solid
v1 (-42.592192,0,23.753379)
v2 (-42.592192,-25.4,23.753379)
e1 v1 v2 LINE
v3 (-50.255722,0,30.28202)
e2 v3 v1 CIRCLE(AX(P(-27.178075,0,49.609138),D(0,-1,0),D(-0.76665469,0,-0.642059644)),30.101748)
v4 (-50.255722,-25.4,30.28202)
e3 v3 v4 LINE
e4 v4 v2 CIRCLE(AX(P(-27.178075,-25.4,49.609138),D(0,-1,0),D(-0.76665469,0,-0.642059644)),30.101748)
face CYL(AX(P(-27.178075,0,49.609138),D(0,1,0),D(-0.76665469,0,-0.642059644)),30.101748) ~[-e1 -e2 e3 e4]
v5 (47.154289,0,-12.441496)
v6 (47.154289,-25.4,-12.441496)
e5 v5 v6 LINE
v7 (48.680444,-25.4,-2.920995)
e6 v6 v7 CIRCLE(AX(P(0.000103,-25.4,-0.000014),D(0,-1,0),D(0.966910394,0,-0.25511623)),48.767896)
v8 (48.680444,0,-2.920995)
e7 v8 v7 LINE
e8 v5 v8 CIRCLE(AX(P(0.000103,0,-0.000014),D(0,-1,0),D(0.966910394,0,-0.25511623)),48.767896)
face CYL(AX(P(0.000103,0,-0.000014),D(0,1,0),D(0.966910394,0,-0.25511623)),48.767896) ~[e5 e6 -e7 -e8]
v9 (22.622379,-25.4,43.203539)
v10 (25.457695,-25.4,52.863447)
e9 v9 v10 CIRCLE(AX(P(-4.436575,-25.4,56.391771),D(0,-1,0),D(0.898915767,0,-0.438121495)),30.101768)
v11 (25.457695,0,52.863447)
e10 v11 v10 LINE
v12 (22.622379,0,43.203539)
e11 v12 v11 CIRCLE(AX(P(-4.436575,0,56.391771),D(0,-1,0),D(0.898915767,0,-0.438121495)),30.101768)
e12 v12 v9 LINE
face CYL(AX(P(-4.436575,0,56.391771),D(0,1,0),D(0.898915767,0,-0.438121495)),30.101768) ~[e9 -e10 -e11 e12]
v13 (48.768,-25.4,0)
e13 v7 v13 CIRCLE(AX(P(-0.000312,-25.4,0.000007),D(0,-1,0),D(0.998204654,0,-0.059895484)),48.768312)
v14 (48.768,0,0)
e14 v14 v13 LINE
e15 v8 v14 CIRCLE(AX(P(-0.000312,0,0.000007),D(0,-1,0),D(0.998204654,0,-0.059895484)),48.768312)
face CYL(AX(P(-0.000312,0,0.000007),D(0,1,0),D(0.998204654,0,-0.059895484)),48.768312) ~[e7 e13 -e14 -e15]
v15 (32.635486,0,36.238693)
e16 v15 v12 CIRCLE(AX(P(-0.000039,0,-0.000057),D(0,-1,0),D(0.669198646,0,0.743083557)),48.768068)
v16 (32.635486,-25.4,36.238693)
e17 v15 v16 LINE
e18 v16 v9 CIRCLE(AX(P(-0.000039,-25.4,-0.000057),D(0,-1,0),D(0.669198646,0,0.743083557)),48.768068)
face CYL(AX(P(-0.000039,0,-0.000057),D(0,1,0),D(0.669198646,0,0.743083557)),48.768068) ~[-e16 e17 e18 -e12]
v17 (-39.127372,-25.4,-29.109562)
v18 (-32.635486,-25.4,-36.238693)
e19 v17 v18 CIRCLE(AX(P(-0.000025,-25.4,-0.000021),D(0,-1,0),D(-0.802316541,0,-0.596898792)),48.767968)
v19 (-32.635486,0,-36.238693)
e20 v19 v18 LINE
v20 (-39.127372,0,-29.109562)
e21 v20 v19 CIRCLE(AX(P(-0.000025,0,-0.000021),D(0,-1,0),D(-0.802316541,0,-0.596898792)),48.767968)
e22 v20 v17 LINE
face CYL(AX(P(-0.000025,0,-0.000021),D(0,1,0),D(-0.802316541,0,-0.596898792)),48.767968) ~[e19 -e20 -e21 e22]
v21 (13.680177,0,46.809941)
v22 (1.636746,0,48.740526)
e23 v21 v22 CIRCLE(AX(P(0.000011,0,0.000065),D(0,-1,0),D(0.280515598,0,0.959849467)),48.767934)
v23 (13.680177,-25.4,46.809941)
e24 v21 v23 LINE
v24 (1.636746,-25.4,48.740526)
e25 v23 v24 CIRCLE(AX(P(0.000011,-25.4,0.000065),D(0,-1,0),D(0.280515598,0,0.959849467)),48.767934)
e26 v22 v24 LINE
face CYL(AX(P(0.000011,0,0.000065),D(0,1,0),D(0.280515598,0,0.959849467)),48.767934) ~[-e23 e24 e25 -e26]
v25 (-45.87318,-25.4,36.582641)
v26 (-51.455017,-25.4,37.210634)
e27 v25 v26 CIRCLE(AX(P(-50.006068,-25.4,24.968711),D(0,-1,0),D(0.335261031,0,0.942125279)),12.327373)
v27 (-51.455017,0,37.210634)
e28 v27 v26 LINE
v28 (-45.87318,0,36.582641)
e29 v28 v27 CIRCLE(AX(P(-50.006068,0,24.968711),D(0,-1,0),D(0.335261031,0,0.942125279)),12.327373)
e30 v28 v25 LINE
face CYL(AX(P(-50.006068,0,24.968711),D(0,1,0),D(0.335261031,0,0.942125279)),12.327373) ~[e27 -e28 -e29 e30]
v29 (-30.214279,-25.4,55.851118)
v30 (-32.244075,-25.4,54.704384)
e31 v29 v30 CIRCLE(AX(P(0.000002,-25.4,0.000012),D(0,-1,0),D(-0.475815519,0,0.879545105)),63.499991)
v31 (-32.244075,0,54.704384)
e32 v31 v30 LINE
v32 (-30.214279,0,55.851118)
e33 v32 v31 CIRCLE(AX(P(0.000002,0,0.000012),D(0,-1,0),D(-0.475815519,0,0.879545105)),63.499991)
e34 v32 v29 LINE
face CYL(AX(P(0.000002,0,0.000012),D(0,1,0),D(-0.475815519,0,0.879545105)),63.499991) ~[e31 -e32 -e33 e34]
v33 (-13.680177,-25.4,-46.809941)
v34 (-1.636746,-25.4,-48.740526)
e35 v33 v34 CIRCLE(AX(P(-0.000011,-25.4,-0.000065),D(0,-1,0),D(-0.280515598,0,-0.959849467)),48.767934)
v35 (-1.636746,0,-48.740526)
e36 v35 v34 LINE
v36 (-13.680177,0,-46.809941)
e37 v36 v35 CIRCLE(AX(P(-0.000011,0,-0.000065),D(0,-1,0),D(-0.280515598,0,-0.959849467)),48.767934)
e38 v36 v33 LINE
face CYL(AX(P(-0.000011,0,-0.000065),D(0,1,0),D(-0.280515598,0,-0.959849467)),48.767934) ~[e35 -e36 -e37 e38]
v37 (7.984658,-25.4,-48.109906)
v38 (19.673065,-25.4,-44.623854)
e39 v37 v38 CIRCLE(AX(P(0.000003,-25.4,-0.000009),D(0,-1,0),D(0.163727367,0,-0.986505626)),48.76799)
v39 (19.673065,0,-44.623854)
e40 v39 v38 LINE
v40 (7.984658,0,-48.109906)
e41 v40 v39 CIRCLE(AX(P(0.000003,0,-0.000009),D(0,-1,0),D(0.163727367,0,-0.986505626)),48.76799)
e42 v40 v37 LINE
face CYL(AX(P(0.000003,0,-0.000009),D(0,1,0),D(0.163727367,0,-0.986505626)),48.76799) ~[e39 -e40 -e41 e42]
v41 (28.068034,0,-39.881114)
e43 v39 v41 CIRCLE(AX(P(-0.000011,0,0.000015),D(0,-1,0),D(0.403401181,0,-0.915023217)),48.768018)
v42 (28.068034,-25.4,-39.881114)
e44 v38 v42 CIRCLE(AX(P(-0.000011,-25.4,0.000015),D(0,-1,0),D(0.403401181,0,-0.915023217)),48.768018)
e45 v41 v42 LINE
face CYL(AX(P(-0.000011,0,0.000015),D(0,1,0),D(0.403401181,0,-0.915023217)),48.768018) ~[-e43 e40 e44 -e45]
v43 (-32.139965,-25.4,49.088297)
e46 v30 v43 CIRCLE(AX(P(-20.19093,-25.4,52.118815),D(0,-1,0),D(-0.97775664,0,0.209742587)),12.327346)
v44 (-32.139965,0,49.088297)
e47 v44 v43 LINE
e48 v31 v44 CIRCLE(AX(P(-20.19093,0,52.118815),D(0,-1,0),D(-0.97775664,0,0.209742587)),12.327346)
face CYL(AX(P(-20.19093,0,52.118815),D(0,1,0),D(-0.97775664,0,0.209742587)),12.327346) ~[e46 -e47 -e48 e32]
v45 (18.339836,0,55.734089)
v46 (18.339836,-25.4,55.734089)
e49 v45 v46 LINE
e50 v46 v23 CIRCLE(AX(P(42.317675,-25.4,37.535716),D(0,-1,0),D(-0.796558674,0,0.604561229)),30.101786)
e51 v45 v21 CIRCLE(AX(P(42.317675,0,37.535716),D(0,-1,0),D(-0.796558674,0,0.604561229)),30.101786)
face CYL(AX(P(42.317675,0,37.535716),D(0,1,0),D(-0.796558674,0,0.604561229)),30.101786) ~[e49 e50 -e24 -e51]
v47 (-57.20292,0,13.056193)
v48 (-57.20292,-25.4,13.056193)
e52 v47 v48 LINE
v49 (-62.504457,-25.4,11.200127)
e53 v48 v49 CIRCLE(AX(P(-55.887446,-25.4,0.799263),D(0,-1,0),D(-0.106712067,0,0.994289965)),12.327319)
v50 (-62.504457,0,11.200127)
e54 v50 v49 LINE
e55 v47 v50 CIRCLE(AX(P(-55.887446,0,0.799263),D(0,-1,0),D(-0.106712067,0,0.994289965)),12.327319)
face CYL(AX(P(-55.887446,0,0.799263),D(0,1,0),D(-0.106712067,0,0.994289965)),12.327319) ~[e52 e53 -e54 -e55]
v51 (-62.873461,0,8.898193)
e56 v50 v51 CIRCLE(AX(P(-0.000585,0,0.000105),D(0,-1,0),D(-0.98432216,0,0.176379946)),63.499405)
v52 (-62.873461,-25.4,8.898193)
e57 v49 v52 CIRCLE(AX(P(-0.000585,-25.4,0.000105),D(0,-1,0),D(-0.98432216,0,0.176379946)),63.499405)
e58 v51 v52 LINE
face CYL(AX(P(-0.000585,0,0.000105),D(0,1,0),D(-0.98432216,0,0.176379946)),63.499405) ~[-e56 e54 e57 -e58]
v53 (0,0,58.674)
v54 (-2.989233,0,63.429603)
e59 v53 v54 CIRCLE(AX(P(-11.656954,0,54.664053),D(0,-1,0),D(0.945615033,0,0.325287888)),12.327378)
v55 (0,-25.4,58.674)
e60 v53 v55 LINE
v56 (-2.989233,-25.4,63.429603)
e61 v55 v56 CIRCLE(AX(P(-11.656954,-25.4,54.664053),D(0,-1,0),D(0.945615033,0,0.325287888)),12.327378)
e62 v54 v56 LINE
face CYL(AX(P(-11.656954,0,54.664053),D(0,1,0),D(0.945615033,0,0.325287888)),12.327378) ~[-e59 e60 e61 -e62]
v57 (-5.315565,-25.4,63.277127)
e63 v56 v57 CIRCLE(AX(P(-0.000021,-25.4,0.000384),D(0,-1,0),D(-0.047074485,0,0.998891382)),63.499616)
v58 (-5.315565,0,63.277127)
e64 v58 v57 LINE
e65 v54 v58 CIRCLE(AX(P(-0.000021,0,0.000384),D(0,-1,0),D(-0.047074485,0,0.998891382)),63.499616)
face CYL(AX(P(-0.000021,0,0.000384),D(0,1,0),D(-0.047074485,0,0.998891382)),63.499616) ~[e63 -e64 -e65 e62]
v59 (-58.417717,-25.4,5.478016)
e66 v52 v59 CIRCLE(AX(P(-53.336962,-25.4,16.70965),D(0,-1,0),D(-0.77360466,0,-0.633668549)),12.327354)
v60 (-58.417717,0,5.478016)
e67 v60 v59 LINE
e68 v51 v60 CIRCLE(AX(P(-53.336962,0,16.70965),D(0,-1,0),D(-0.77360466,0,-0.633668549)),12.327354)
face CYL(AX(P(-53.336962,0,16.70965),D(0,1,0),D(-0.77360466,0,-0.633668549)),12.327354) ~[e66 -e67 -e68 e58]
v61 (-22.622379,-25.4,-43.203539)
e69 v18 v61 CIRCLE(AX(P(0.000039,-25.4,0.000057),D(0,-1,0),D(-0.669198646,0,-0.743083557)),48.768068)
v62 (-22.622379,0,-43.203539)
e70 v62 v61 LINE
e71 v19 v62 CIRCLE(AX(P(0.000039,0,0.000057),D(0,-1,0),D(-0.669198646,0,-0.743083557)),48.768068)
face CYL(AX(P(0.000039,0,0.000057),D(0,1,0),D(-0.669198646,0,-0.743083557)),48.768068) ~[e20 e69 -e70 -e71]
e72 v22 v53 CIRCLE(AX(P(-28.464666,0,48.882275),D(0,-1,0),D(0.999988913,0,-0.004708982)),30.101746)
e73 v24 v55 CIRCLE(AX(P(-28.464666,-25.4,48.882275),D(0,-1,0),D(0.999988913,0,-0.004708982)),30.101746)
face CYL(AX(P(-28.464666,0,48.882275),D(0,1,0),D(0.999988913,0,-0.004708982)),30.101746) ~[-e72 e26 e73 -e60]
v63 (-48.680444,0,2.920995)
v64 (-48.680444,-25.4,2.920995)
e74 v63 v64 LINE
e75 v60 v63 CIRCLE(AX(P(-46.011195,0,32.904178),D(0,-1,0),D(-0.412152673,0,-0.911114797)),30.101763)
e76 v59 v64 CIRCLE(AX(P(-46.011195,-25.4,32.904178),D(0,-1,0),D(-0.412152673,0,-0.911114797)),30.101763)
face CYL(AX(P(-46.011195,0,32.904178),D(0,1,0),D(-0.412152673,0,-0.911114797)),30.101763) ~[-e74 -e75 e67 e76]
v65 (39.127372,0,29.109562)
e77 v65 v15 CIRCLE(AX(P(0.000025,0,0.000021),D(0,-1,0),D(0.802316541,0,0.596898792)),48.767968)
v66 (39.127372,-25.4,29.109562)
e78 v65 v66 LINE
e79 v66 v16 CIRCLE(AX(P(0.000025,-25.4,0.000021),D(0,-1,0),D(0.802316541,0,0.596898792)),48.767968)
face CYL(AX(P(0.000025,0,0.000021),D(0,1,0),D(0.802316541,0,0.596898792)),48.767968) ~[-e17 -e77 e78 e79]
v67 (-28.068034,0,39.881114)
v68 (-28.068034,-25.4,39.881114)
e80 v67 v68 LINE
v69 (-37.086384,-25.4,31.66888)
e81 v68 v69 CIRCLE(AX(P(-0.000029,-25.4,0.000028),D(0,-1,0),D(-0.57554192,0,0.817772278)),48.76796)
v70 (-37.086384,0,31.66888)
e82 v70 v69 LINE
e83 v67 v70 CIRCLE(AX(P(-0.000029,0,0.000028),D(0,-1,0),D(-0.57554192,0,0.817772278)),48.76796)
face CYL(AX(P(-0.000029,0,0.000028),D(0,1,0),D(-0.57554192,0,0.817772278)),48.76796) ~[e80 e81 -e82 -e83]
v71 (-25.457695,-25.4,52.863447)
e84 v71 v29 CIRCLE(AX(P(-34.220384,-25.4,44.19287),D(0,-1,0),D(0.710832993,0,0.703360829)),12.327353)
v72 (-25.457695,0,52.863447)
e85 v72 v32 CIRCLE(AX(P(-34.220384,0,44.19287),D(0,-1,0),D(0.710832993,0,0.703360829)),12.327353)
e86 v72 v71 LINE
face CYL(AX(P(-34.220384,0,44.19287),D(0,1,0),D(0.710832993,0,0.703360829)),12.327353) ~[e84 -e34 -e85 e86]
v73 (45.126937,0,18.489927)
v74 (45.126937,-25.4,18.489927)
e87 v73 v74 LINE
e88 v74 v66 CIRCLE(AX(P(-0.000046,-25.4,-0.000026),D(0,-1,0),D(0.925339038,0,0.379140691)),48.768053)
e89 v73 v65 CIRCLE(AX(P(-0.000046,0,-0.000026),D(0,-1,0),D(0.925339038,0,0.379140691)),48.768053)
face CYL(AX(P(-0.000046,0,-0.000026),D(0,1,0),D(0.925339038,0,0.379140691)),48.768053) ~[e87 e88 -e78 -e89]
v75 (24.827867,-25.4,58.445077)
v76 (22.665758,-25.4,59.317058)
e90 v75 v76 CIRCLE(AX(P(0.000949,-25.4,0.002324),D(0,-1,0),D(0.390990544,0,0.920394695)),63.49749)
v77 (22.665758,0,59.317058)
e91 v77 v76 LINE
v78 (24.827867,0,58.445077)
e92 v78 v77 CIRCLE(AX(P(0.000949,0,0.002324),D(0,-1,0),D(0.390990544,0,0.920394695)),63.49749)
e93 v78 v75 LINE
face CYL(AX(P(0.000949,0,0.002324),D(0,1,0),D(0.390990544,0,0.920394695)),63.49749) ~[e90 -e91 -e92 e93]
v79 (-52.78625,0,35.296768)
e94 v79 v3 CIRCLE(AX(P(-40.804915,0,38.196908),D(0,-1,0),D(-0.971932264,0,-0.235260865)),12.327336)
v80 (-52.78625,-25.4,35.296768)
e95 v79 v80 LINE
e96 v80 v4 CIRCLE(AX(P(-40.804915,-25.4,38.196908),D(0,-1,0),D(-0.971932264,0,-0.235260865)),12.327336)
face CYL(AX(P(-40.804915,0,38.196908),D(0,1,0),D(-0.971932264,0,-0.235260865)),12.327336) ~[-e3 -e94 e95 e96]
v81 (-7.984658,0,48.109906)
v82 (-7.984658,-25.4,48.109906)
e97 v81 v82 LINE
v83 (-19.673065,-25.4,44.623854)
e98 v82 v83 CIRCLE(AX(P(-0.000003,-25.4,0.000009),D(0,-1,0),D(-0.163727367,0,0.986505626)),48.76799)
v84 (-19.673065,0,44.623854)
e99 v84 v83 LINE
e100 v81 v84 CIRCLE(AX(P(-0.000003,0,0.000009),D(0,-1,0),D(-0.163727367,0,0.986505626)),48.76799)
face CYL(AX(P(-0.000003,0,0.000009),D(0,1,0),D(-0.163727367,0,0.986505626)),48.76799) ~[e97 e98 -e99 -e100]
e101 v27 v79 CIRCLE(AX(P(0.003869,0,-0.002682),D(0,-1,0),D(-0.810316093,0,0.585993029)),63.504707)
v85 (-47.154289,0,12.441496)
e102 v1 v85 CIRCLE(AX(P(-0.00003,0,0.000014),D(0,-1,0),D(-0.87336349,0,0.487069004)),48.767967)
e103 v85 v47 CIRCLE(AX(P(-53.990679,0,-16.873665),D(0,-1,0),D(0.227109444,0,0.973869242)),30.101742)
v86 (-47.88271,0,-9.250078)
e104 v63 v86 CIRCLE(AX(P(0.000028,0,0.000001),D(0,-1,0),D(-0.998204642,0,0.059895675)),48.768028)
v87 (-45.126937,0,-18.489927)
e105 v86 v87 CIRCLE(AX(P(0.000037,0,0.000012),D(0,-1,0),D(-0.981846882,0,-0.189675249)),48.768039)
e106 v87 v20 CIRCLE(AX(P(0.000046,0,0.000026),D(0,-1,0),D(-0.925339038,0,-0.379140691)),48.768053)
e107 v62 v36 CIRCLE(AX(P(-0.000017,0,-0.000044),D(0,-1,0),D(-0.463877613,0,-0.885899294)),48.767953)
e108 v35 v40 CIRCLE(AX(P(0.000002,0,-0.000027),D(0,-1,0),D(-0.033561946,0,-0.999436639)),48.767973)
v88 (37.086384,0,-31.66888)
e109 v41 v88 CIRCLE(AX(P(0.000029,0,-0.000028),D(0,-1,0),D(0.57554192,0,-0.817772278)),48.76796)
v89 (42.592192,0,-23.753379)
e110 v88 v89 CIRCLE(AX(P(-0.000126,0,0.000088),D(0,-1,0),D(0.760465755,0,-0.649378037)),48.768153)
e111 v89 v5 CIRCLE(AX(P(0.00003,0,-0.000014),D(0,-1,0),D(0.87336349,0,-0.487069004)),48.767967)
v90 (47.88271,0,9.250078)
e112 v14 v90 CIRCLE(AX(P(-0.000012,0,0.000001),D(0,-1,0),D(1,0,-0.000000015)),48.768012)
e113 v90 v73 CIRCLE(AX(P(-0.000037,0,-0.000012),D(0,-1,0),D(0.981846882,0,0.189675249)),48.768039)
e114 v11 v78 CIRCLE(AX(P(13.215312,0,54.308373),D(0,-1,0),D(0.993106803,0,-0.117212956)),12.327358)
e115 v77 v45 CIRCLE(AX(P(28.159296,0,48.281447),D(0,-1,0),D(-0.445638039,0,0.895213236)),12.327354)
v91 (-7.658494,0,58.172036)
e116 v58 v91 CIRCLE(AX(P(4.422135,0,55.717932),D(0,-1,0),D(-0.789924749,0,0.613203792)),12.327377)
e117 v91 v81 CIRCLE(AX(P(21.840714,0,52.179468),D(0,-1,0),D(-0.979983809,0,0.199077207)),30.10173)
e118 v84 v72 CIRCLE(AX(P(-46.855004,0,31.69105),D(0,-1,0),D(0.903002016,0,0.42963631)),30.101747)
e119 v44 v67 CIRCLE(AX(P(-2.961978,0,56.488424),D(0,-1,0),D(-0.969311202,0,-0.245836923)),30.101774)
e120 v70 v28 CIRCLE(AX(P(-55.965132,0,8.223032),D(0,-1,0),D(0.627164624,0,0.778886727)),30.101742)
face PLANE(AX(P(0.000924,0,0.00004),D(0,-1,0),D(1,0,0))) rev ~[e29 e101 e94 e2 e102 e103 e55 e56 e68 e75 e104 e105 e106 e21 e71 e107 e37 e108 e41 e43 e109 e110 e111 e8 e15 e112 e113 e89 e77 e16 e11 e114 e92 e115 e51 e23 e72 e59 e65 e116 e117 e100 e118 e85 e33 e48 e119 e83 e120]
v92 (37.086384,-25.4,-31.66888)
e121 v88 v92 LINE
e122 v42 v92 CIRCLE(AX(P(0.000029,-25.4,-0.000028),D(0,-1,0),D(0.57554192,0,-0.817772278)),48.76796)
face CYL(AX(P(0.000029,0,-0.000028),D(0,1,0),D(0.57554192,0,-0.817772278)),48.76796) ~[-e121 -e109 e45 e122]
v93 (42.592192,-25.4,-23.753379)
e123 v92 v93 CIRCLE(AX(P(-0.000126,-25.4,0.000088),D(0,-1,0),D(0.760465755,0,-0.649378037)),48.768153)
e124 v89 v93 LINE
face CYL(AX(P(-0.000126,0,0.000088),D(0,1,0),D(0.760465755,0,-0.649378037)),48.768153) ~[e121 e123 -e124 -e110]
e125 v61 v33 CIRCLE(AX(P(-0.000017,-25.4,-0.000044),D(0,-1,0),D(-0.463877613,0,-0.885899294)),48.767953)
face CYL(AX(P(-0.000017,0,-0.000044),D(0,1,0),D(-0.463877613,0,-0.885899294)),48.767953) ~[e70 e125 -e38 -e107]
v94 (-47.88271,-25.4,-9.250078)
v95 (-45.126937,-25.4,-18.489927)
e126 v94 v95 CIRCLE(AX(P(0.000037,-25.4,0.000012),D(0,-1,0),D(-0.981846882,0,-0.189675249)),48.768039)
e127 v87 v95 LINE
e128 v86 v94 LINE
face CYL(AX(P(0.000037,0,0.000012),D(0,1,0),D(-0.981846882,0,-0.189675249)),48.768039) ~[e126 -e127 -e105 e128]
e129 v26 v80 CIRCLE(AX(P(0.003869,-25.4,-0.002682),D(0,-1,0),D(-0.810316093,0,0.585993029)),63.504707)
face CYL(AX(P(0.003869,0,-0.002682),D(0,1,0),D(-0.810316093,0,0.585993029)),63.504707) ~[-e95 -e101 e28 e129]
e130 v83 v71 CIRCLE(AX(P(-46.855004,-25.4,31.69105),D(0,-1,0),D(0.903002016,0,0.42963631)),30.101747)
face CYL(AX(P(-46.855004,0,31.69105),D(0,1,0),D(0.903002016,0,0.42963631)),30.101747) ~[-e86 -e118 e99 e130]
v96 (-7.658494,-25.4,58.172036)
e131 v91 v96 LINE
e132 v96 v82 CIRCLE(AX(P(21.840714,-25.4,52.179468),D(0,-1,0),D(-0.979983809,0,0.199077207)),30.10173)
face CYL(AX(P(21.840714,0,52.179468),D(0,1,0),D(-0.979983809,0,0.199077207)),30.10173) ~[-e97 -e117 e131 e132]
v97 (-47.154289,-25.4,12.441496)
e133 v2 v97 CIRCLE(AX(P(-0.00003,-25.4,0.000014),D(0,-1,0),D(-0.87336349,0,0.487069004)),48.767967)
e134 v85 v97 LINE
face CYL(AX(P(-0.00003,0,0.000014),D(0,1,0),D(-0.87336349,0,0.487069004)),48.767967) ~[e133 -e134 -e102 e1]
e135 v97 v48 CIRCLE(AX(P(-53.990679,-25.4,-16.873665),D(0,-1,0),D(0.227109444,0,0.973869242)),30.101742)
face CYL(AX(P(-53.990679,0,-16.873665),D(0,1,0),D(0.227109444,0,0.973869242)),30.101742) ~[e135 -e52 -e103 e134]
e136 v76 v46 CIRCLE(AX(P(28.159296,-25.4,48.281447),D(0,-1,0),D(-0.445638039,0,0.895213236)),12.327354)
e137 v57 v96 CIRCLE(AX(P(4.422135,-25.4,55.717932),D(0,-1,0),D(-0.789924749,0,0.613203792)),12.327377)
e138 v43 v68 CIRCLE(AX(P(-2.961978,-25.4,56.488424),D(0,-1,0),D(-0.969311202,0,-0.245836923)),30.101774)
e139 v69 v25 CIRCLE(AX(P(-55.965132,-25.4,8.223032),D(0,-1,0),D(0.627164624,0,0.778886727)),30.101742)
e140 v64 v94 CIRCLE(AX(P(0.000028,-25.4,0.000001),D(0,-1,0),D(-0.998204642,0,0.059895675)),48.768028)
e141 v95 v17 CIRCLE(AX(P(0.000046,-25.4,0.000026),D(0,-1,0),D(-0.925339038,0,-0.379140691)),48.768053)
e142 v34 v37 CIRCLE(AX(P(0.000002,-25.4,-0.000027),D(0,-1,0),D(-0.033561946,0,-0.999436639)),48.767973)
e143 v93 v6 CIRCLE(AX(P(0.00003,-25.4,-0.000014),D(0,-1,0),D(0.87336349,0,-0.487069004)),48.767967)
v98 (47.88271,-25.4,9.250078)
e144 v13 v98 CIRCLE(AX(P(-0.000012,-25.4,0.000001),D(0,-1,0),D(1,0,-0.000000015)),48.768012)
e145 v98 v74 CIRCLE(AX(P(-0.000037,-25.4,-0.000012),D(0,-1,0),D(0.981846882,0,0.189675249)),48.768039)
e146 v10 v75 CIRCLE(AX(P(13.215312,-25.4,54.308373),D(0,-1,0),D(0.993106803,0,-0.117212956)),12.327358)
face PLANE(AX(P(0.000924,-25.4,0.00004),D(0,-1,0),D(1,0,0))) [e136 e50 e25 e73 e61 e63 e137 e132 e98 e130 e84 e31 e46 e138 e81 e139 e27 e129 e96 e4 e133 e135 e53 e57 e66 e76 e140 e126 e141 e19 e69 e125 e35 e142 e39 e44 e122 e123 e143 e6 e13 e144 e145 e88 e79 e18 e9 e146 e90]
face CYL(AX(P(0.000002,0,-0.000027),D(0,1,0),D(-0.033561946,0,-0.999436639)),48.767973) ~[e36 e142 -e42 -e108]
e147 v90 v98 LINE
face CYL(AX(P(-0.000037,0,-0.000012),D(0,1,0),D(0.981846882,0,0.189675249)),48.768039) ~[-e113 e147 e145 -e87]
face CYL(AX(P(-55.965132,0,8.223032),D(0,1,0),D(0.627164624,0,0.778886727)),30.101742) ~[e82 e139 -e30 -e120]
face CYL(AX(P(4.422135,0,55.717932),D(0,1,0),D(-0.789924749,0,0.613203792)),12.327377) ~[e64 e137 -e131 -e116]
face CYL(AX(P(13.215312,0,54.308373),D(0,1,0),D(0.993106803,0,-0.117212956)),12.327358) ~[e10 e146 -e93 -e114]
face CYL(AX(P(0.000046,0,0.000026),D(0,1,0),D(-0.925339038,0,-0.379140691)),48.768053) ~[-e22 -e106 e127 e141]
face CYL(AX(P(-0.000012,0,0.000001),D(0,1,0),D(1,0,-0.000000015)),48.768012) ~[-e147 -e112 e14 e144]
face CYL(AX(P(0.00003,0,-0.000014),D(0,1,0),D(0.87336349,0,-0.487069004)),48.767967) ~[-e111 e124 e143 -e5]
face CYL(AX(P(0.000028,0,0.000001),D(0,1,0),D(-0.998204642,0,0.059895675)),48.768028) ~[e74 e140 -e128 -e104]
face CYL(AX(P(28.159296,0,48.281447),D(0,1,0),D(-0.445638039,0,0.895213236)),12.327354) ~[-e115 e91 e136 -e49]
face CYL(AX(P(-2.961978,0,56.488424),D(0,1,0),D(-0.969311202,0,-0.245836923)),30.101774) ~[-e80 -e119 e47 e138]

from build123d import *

# Parameters (mm, degrees)
F1_DEPTH = 25.4


with BuildPart() as f1:
    # F0 (on Front) → F1 (new body)
    with BuildSketch(Plane.XZ):
        with BuildLine():
            ThreePointArc((48.680444, -2.920995), (48.746106, -1.461153), (48.768, 0))
            ThreePointArc((48.768, 0), (48.546173, 4.646173), (47.88271, 9.250078))
            ThreePointArc((47.88271, 9.250078), (46.733738, 13.938277), (45.126937, 18.489927))
            ThreePointArc((45.126937, 18.489927), (42.460467, 23.98805), (39.127372, 29.109562))
            ThreePointArc((39.127372, 29.109562), (36.058052, 32.834962), (32.635486, 36.238693))
            ThreePointArc((32.635486, 36.238693), (27.847534, 40.035392), (22.622379, 43.203539))
            ThreePointArc((22.622379, 43.203539), (18.240626, 45.228281), (13.680177, 46.809941))
            ThreePointArc((13.680177, 46.809941), (7.719056, 48.153235), (1.636746, 48.740526))
            ThreePointArc((1.636746, 48.740526), (-3.18958, 48.663584), (-7.984658, 48.109906))
            ThreePointArc((-7.984658, 48.109906), (-13.938277, 46.733738), (-19.673065, 44.623854))
            ThreePointArc((-19.673065, 44.623854), (-23.98805, 42.460467), (-28.068034, 39.881114))
            ThreePointArc((-28.068034, 39.881114), (-32.834962, 36.058052), (-37.086384, 31.66888))
            ThreePointArc((-37.086384, 31.66888), (-40.035392, 27.847534), (-42.592192, 23.753379))
            ThreePointArc((-42.592192, 23.753379), (-45.228281, 18.240626), (-47.154289, 12.441496))
            ThreePointArc((-47.154289, 12.441496), (-48.153235, 7.719056), (-48.680444, 2.920995))
            ThreePointArc((-48.680444, 2.920995), (-48.663584, -3.18958), (-47.88271, -9.250078))
            ThreePointArc((-47.88271, -9.250078), (-46.733738, -13.938277), (-45.126937, -18.489927))
            ThreePointArc((-45.126937, -18.489927), (-42.460467, -23.98805), (-39.127372, -29.109562))
            ThreePointArc((-39.127372, -29.109562), (-36.058052, -32.834962), (-32.635486, -36.238693))
            ThreePointArc((-32.635486, -36.238693), (-27.847534, -40.035392), (-22.622379, -43.203539))
            ThreePointArc((-22.622379, -43.203539), (-18.240626, -45.228281), (-13.680177, -46.809941))
            ThreePointArc((-13.680177, -46.809941), (-7.719056, -48.153235), (-1.636746, -48.740526))
            ThreePointArc((-1.636746, -48.740526), (3.18958, -48.663584), (7.984658, -48.109906))
            ThreePointArc((7.984658, -48.109906), (13.938277, -46.733738), (19.673065, -44.623854))
            ThreePointArc((19.673065, -44.623854), (23.98805, -42.460467), (28.068034, -39.881114))
            ThreePointArc((28.068034, -39.881114), (32.834962, -36.058052), (37.086384, -31.66888))
            ThreePointArc((37.086384, -31.66888), (40.035392, -27.847534), (42.592192, -23.753379))
            ThreePointArc((42.592192, -23.753379), (45.228281, -18.240626), (47.154289, -12.441496))
            ThreePointArc((47.154289, -12.441496), (48.153235, -7.719056), (48.680444, -2.920995))
        make_face()
        with BuildLine():
            ThreePointArc((-48.680444, 2.920995), (-48.153235, 7.719056), (-47.154289, 12.441496))
            ThreePointArc((-47.154289, 12.441496), (-52.152725, 13.171914), (-57.20292, 13.056193))
            ThreePointArc((-57.20292, 13.056193), (-59.960814, 12.434145), (-62.504457, 11.200127))
            ThreePointArc((-62.504457, 11.200127), (-62.699524, 10.050854), (-62.873461, 8.898193))
            ThreePointArc((-62.873461, 8.898193), (-60.842988, 6.930936), (-58.417717, 5.478016))
            ThreePointArc((-58.417717, 5.478016), (-53.656736, 3.789545), (-48.680444, 2.920995))
        make_face()
        with BuildLine():
            ThreePointArc((-42.592192, 23.753379), (-40.035392, 27.847534), (-37.086384, 31.66888))
            ThreePointArc((-37.086384, 31.66888), (-41.272902, 34.495704), (-45.87318, 36.582641))
            ThreePointArc((-45.87318, 36.582641), (-48.627853, 37.218799), (-51.455017, 37.210634))
            ThreePointArc((-51.455017, 37.210634), (-52.129417, 36.25981), (-52.78625, 35.296768))
            ThreePointArc((-52.78625, 35.296768), (-51.810418, 32.643341), (-50.255722, 30.28202))
            ThreePointArc((-50.255722, 30.28202), (-46.698827, 26.695048), (-42.592192, 23.753379))
        make_face()
        with BuildLine():
            ThreePointArc((-28.068034, 39.881114), (-23.98805, 42.460467), (-19.673065, 44.623854))
            ThreePointArc((-19.673065, 44.623854), (-22.218475, 48.987196), (-25.457695, 52.863447))
            ThreePointArc((-25.457695, 52.863447), (-27.66355, 54.631814), (-30.214279, 55.851118))
            ThreePointArc((-30.214279, 55.851118), (-31.23444, 55.287067), (-32.244075, 54.704384))
            ThreePointArc((-32.244075, 54.704384), (-32.516159, 51.890332), (-32.139965, 49.088297))
            ThreePointArc((-32.139965, 49.088297), (-30.491642, 44.313269), (-28.068034, 39.881114))
        make_face()
        with BuildLine():
            ThreePointArc((-7.984658, 48.109906), (-3.18958, 48.663584), (1.636746, 48.740526))
            ThreePointArc((1.636746, 48.740526), (1.236594, 53.776174), (0, 58.674))
            ThreePointArc((0, 58.674), (-1.220142, 61.224328), (-2.989233, 63.429603))
            ThreePointArc((-2.989233, 63.429603), (-4.153099, 63.364042), (-5.315565, 63.277127))
            ThreePointArc((-5.315565, 63.277127), (-6.781675, 60.859806), (-7.658494, 58.172036))
            ThreePointArc((-7.658494, 58.172036), (-8.245214, 53.154703), (-7.984658, 48.109906))
        make_face()
        with BuildLine():
            ThreePointArc((13.680177, 46.809941), (18.240626, 45.228281), (22.622379, 43.203539))
            ThreePointArc((22.622379, 43.203539), (24.44674, 47.91412), (25.457695, 52.863447))
            ThreePointArc((25.457695, 52.863447), (25.464931, 55.690613), (24.827867, 58.445077))
            ThreePointArc((24.827867, 58.445077), (23.750815, 58.890991), (22.665758, 59.317058))
            ThreePointArc((22.665758, 59.317058), (20.296002, 57.775249), (18.339836, 55.734089))
            ThreePointArc((18.339836, 55.734089), (15.634281, 51.468197), (13.680177, 46.809941))
        make_face()
    extrude(amount=F1_DEPTH)


solid = f1.part
